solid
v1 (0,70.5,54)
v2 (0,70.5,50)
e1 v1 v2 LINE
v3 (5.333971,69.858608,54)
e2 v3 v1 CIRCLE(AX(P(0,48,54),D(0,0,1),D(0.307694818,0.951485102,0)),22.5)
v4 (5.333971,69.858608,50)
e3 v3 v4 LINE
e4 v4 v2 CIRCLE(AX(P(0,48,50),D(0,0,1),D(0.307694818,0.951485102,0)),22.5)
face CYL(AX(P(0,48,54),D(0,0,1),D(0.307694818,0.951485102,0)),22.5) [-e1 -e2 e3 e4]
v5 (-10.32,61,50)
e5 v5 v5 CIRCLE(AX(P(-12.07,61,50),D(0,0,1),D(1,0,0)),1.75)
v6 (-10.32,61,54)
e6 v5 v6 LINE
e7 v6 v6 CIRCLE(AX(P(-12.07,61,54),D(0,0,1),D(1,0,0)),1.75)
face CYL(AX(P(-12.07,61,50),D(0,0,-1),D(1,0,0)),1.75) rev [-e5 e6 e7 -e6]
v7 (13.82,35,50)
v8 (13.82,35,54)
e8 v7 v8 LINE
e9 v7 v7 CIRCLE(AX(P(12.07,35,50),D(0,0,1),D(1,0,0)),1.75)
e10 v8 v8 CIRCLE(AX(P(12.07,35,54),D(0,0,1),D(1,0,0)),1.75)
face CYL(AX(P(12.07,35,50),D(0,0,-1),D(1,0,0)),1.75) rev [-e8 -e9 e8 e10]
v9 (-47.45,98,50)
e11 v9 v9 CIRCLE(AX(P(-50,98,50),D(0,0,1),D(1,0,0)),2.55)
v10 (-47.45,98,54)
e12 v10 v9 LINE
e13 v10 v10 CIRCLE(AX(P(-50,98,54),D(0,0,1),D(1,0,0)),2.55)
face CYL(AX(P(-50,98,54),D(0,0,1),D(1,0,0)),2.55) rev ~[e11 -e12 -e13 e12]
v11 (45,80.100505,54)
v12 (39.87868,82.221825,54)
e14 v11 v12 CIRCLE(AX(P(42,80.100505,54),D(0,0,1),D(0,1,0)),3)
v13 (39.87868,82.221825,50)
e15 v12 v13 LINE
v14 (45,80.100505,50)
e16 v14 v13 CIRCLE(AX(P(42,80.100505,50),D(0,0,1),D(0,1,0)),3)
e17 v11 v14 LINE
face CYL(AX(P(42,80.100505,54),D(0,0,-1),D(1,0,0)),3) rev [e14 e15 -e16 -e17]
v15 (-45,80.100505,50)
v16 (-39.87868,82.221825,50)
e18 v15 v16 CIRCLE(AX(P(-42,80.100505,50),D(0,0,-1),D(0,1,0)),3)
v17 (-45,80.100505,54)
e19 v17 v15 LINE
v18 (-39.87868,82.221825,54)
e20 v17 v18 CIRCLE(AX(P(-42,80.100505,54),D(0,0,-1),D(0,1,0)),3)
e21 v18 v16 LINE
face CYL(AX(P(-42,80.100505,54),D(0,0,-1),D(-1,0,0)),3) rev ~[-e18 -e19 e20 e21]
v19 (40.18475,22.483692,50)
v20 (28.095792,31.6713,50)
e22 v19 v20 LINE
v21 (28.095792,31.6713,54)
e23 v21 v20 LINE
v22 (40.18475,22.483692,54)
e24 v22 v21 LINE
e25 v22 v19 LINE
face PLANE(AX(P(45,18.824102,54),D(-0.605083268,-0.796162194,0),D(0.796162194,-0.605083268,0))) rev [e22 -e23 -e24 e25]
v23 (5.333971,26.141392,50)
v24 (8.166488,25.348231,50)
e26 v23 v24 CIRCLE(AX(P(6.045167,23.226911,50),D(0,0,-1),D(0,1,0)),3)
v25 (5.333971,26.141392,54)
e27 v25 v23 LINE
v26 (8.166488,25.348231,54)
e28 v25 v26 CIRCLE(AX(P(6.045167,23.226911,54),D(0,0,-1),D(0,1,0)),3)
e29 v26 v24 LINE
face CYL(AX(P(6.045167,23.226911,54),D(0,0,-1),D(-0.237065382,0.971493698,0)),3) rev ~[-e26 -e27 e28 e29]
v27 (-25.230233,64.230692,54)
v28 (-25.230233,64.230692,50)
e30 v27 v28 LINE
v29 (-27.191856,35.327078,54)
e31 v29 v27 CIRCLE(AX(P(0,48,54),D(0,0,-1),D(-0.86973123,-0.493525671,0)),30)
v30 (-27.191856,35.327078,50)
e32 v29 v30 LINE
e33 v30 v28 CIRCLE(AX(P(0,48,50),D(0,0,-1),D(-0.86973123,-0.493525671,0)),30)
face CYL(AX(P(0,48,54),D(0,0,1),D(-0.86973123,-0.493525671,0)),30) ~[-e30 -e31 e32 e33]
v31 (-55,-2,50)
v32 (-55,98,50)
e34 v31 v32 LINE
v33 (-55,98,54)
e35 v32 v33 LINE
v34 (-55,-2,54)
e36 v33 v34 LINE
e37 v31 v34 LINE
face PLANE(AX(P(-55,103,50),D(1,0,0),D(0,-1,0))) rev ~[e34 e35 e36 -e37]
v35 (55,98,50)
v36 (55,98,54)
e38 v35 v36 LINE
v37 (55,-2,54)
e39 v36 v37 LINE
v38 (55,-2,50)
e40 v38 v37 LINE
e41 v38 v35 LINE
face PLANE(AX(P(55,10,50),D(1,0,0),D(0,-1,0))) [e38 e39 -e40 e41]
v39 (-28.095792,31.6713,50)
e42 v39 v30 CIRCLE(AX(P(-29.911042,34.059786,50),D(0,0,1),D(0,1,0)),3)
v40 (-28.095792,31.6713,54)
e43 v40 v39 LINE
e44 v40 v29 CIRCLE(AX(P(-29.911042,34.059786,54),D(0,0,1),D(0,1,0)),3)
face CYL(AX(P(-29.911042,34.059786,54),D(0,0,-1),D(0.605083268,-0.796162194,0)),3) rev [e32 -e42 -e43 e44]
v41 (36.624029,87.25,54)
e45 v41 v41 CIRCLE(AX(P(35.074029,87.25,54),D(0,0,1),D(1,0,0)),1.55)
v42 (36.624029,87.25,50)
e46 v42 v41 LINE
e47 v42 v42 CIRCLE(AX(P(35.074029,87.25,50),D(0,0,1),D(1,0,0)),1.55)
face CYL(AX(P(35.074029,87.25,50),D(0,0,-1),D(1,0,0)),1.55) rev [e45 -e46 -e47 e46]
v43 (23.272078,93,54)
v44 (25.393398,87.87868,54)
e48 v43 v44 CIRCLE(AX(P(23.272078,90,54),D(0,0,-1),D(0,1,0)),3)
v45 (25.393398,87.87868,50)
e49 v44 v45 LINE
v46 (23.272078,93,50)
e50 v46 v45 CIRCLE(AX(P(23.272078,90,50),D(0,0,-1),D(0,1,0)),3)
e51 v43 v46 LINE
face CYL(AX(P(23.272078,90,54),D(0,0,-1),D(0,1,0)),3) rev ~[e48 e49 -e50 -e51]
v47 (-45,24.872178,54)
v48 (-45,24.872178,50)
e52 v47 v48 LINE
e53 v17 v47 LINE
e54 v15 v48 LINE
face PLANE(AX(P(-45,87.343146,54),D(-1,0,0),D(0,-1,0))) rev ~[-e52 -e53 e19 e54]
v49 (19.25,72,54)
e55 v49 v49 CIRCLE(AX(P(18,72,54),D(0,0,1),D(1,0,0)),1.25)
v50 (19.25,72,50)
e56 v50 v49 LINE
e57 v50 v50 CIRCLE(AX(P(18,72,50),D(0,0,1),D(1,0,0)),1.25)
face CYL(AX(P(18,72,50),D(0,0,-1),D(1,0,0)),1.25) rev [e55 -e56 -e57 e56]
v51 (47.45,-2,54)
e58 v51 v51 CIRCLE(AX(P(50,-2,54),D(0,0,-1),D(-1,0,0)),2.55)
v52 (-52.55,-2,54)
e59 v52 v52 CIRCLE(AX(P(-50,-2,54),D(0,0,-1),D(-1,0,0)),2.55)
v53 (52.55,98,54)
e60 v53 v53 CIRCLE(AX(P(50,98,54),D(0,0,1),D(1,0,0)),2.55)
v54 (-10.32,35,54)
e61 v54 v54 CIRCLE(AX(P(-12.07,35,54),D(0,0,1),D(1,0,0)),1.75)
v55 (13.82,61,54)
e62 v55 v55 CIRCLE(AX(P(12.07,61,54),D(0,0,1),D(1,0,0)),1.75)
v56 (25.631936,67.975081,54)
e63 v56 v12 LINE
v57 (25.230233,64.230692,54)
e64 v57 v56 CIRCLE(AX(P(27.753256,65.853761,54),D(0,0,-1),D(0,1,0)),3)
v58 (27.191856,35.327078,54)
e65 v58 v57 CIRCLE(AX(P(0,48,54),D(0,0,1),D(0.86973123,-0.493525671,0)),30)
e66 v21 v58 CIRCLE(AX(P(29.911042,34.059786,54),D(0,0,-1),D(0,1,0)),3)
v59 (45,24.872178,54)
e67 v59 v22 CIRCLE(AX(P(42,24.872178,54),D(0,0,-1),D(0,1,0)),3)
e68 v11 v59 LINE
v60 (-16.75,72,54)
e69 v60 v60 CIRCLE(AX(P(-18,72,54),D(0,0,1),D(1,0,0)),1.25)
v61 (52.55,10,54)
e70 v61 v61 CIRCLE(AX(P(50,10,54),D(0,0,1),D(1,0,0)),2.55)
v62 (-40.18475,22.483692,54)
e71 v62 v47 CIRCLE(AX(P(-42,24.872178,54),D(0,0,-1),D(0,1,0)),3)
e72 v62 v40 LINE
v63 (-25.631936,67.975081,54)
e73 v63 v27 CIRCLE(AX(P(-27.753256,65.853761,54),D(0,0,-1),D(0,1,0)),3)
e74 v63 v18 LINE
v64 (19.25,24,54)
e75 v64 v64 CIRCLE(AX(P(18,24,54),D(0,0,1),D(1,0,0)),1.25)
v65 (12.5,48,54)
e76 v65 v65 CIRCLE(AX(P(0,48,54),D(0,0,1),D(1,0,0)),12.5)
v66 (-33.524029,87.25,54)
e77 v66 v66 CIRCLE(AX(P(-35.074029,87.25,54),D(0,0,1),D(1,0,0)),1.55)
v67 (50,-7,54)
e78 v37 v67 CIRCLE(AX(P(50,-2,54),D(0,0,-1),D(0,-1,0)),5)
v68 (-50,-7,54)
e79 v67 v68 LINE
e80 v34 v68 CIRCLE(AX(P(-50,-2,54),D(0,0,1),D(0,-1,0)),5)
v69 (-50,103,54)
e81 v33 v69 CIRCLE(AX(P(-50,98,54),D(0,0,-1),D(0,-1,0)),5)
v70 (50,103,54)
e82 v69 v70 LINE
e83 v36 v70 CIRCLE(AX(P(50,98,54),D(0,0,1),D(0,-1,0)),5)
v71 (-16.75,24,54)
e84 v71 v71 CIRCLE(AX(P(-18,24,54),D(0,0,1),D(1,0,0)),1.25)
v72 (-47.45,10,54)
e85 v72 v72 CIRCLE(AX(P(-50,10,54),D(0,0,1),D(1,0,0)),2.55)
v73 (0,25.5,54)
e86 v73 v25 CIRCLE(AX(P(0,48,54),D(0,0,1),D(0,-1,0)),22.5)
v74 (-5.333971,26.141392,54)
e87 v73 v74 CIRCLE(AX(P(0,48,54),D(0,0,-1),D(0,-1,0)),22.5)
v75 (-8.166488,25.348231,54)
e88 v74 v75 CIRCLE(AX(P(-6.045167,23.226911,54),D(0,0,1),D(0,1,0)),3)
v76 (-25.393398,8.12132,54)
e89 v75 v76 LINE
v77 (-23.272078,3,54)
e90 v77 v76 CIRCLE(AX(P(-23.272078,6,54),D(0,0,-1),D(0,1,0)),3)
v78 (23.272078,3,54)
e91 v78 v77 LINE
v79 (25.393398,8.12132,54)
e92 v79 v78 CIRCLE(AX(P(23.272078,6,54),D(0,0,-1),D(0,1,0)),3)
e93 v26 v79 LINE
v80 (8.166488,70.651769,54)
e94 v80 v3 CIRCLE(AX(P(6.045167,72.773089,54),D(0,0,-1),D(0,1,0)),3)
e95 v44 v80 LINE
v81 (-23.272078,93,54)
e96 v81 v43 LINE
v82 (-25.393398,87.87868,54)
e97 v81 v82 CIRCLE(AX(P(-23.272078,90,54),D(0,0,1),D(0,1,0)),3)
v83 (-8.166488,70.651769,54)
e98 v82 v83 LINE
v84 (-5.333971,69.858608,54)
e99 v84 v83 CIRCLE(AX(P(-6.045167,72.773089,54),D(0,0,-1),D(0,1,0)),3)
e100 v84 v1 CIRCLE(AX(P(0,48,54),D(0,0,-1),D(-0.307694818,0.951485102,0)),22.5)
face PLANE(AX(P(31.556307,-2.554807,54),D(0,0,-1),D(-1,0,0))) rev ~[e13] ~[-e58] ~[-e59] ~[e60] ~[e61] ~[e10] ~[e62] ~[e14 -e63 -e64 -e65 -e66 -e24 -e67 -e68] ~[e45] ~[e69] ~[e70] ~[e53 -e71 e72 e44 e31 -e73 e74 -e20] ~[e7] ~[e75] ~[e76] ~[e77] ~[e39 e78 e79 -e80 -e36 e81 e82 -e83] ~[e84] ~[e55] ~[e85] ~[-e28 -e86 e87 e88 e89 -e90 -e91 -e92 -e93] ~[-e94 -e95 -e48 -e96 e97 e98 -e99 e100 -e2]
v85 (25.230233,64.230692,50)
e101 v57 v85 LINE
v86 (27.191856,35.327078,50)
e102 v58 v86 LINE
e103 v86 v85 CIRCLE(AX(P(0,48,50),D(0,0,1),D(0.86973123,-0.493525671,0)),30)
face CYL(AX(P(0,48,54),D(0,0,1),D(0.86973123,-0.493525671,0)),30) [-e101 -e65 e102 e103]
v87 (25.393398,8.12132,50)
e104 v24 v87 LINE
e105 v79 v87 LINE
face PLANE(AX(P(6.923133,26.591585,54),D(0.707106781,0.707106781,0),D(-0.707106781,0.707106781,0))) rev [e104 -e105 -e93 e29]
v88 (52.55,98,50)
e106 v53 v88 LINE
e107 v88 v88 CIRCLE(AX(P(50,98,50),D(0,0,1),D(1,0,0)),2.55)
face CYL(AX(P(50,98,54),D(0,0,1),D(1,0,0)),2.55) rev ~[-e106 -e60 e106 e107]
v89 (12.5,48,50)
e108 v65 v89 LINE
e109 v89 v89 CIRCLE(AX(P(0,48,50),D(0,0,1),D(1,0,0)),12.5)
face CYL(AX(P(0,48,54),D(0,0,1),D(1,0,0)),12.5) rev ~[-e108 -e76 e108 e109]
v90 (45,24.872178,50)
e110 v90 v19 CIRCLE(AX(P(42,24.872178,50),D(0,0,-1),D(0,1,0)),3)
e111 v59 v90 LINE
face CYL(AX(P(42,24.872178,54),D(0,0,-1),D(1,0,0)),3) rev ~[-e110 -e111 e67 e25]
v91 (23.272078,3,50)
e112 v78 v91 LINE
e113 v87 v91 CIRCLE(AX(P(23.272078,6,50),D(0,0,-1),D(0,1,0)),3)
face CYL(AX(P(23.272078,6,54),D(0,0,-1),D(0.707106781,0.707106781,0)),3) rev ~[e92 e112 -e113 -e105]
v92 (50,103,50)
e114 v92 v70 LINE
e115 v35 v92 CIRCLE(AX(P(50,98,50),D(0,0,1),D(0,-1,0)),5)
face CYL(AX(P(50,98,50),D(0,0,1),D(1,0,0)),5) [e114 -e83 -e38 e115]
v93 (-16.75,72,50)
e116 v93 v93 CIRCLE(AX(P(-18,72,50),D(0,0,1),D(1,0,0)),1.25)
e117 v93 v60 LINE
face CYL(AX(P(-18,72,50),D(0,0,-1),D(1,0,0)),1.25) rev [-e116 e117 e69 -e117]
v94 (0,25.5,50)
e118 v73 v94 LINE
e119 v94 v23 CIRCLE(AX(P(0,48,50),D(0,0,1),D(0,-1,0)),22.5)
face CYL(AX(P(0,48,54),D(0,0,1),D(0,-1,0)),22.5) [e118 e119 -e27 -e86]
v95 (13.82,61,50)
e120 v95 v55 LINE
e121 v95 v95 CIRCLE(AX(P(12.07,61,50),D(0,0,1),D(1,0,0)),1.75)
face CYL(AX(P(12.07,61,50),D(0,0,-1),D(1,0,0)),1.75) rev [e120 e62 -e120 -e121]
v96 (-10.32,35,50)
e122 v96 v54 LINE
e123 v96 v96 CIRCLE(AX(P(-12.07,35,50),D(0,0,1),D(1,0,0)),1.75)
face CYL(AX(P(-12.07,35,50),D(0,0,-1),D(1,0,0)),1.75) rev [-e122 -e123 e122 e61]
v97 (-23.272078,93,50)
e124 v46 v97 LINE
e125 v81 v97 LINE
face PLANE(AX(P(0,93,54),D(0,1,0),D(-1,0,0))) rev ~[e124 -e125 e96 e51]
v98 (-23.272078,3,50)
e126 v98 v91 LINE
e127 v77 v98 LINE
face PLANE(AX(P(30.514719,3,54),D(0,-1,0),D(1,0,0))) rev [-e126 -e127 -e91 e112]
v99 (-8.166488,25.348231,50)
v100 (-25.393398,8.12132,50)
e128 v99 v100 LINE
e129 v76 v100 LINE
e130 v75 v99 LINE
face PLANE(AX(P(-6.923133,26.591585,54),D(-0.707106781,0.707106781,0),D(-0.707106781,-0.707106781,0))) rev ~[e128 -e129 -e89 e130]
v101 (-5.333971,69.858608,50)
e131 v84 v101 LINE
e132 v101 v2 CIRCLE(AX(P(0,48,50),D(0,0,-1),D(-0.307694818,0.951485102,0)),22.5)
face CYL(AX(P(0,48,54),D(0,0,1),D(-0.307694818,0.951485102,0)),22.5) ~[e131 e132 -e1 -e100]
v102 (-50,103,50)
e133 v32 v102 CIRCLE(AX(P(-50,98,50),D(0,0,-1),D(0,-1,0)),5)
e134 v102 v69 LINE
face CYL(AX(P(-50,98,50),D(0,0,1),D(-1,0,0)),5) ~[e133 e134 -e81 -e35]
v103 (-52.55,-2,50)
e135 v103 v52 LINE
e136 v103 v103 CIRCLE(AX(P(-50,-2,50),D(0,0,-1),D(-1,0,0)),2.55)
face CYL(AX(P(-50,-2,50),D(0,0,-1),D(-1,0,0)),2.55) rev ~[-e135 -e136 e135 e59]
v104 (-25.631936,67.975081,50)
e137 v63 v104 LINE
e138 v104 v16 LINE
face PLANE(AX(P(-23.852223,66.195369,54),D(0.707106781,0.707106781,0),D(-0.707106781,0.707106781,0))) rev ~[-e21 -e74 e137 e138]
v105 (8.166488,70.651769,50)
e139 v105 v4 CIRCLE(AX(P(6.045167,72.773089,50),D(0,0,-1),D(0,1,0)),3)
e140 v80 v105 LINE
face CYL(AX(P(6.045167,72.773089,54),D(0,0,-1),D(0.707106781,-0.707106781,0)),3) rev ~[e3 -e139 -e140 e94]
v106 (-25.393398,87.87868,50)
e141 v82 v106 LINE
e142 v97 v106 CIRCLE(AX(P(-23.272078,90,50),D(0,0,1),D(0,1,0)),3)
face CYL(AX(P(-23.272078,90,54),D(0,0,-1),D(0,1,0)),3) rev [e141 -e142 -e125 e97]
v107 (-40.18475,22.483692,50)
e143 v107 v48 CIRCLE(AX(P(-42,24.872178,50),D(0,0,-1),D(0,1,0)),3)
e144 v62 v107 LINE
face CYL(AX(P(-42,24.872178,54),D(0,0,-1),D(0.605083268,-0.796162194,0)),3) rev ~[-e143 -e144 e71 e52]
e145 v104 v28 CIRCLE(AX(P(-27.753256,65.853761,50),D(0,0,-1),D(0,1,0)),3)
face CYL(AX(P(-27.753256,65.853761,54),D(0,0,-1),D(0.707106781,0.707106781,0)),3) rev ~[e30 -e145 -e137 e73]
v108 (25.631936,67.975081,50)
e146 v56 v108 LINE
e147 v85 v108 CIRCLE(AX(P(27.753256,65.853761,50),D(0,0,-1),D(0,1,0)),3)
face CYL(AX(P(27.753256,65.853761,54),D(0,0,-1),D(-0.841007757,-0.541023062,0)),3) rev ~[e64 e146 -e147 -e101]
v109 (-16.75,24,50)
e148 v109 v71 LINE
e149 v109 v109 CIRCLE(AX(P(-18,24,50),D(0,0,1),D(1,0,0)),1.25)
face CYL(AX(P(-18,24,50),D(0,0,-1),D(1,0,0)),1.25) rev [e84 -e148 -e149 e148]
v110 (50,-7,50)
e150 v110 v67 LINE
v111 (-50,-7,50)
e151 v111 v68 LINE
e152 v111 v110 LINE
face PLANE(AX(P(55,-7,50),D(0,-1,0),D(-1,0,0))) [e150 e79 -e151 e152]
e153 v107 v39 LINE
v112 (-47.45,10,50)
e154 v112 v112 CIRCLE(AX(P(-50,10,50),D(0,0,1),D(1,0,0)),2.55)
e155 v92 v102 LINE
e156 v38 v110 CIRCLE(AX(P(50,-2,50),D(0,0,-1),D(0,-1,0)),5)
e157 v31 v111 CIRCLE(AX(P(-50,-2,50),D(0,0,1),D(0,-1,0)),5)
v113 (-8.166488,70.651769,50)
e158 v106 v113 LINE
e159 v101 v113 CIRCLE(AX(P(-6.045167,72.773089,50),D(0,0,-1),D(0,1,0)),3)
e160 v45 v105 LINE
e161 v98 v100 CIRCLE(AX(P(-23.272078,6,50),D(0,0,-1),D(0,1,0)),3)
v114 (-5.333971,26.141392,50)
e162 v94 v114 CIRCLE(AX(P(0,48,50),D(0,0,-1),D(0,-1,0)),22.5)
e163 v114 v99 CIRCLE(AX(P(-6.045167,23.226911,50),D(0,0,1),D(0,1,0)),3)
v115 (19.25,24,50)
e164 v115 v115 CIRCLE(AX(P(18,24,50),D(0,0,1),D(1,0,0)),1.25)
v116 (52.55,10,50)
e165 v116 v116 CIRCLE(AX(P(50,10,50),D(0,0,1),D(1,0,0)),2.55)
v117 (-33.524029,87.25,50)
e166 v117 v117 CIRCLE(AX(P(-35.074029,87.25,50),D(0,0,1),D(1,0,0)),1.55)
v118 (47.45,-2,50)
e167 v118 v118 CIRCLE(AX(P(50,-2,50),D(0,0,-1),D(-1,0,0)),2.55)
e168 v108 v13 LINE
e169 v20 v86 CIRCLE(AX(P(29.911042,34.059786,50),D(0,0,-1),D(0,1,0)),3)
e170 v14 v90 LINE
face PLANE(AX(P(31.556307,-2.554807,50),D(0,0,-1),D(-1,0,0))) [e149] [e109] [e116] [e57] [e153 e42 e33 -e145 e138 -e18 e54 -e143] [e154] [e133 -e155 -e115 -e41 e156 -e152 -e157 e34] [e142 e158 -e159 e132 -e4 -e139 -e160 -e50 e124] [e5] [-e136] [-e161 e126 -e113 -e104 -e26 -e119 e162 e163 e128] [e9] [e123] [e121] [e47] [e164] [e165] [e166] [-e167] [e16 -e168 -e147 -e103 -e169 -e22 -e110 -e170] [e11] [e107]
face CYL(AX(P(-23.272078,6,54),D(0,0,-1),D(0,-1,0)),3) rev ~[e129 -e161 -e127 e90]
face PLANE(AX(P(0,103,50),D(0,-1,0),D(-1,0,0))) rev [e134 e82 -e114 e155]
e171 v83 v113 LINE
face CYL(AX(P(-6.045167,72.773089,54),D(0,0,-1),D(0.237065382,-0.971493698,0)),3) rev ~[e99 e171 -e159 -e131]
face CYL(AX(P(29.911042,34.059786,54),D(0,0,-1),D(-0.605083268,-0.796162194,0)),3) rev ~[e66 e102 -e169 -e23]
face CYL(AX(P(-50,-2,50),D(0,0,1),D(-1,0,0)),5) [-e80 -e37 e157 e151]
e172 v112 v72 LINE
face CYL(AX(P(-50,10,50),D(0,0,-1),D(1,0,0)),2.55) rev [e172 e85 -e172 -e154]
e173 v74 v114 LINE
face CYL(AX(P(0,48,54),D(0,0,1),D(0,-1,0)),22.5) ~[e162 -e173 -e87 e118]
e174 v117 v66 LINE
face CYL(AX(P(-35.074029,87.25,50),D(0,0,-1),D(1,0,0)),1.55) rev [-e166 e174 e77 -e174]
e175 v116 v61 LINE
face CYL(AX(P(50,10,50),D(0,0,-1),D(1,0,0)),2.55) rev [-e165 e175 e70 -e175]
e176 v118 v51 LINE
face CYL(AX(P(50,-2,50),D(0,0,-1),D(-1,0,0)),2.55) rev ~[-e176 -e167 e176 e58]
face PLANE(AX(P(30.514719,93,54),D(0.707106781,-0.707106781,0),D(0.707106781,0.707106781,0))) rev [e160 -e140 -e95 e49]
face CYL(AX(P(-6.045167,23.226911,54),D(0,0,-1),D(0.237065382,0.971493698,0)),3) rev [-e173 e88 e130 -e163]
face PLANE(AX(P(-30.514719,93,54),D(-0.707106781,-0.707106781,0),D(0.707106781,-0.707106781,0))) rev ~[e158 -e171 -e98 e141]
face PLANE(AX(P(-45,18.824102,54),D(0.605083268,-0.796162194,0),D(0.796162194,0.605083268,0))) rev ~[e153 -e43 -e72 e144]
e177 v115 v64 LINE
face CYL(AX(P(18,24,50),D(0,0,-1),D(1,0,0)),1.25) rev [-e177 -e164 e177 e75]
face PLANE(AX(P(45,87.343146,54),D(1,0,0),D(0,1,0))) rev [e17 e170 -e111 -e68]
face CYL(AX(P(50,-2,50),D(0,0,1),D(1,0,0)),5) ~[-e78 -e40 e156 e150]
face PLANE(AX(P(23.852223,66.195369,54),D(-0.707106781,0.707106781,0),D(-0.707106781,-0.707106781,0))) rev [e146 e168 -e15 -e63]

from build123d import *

# Parameters (mm, degrees)
SKETCH_2_R          = 1.55
SKETCH_2_R_2        = 1.25
SKETCH_2_R_3        = 1.75
SKETCH_2_R_4        = 2.55
EXTRUDE_1_DEPTH     = 4
FILLET_1_R          = 20
SKETCH_4_R          = 12.5
CUT_EXTRUDE_3_DEPTH = 4
EXTRUDE_START       = -4
EXTRUDE_2_DEPTH     = 4
FILLET_5_R          = 5
SKETCH_10_R         = 2.55
CUT_EXTRUDE_6_DEPTH = 10
EXTRUDE_3_DEPTH     = 4
FILLET_6_R          = 5
SKETCH_12_R         = 2.55
CUT_EXTRUDE_7_DEPTH = 4
CUT_EXTRUDE_8_DEPTH = 4
FILLET_7_R          = 3


with BuildPart() as part:
    # 草图2 → 凸台-拉伸1 (new body)
    with BuildSketch(Plane.XY.offset(50)):
        with BuildLine():
            Line((-25.35656347, 96.806195191), (-36.91814256, 90.799541468))
            ThreePointArc((-36.91814256, 90.799541468), (-37.739334229, 90.232640986), (-38.394655297, 89.480121078))
            Line((-38.394655297, 89.480121078), (-45.6586136, 78.66416482))
            ThreePointArc((-45.6586136, 78.66416482), (-52.612848944, 64.027729908), (-55, 48))
            Line((-55, 48), (-55, 10))
            ThreePointArc((-55, 10), (-53.535533906, 6.464466094), (-50, 5))
            Line((-50, 5), (-34.292856399, 5))
            ThreePointArc((-34.292856399, 5), (0, -7), (34.292856399, 5))
            Line((34.292856399, 5), (50, 5))
            ThreePointArc((50, 5), (53.535533906, 6.464466094), (55, 10))
            Line((55, 10), (55, 48))
            ThreePointArc((55, 48), (52.612848944, 64.027729908), (45.6586136, 78.66416482))
            Line((45.6586136, 78.66416482), (38.394655297, 89.480121078))
            ThreePointArc((38.394655297, 89.480121078), (37.739334229, 90.232640986), (36.91814256, 90.799541468))
            Line((36.91814256, 90.799541468), (25.35656347, 96.806195191))
            ThreePointArc((25.35656347, 96.806195191), (0, 103), (-25.35656347, 96.806195191))
        make_face()
        with Locations((-35.074028853, 87.25)):
            Circle(SKETCH_2_R, mode=Mode.SUBTRACT)
        with Locations((-18, 72)):
            Circle(SKETCH_2_R_2, mode=Mode.SUBTRACT)
        with Locations((-12.07, 61)):
            Circle(SKETCH_2_R_3, mode=Mode.SUBTRACT)
        with Locations((-12.07, 35)):
            Circle(SKETCH_2_R_3, mode=Mode.SUBTRACT)
        with Locations((-18, 24)):
            Circle(SKETCH_2_R_2, mode=Mode.SUBTRACT)
        with Locations((18, 72)):
            Circle(SKETCH_2_R_2, mode=Mode.SUBTRACT)
        with Locations((12.07, 61)):
            Circle(SKETCH_2_R_3, mode=Mode.SUBTRACT)
        with Locations((12.07, 35)):
            Circle(SKETCH_2_R_3, mode=Mode.SUBTRACT)
        with Locations((35.074028853, 87.25)):
            Circle(SKETCH_2_R, mode=Mode.SUBTRACT)
        with Locations((18, 24)):
            Circle(SKETCH_2_R_2, mode=Mode.SUBTRACT)
        with Locations((-50, 10)):
            Circle(SKETCH_2_R_4, mode=Mode.SUBTRACT)
        with Locations((50, 10)):
            Circle(SKETCH_2_R_4, mode=Mode.SUBTRACT)
    extrude(amount=EXTRUDE_1_DEPTH)

    # 圆角1
    fillet_1_edges = [part.edges().sort_by_distance(p)[0] for p in [
        (-34.292856399, 5, 52),
        (34.292856399, 5, 52),
    ]]
    fillet(fillet_1_edges, radius=FILLET_1_R)

    # 草图4 → 切除-拉伸3 (cut)
    with BuildSketch(Plane.XY.offset(54)):
        with Locations((0, 48)):
            Circle(SKETCH_4_R)
    extrude(amount=-CUT_EXTRUDE_3_DEPTH, mode=Mode.SUBTRACT)

    # 草图8 → 凸台-拉伸2 (add)
    with BuildSketch(Plane.XY.offset(54).offset(EXTRUDE_START)):
        with BuildLine():
            Line((-55, 103), (-55, 48))
            ThreePointArc((-55, 48), (-52.612848944, 64.027729908), (-45.6586136, 78.66416482))
            Line((-45.6586136, 78.66416482), (-38.394655297, 89.480121078))
            ThreePointArc((-38.394655297, 89.480121078), (-37.739334229, 90.232640986), (-36.91814256, 90.799541468))
            Line((-36.91814256, 90.799541468), (-25.35656347, 96.806195191))
            ThreePointArc((-25.35656347, 96.806195191), (-13.051039509, 101.429115356), (0, 103))
            Line((0, 103), (-55, 103))
        make_face()
    extrude_2 = extrude(amount=EXTRUDE_2_DEPTH)

    # 镜向4: 凸台-拉伸2 across plane
    add(extrude_2.mirror(Plane(origin=(0, 0, 0), x_dir=(0, 0, 1), z_dir=(1, 0, 0))))

    # 圆角5
    fillet_5_edges = [part.edges().sort_by_distance(p)[0] for p in [
        (-55, 103, 52),
        (55, 103, 52),
    ]]
    fillet(fillet_5_edges, radius=FILLET_5_R)

    # 草图10 → 切除-拉伸6 (cut)
    with BuildSketch(Plane.XY.offset(54)):
        with Locations((-50, 98)):
            Circle(SKETCH_10_R)
        with Locations((50, 98)):
            Circle(SKETCH_10_R)
    extrude(amount=-CUT_EXTRUDE_6_DEPTH, mode=Mode.SUBTRACT)

    # 草图11 → 凸台-拉伸3 (add)
    with BuildSketch(Plane(origin=(0, 0, 50), x_dir=(-1, 0, 0), z_dir=(0, 0, -1))):
        with BuildLine():
            ThreePointArc((-50, 5), (-53.535533906, 6.464466094), (-55, 10))
            Line((-55, 10), (-55, -7))
            Line((-55, -7), (0, -7))
            ThreePointArc((0, -7), (-15.556349186, -4.754146756), (-29.842251926, 1.8))
            ThreePointArc((-29.842251926, 1.8), (-35.037125649, 4.183326093), (-40.693979899, 5))
            Line((-40.693979899, 5), (-50, 5))
        make_face()
        with BuildLine():
            ThreePointArc((29.842251926, 1.8), (15.556349186, -4.754146756), (0, -7))
            Line((0, -7), (55, -7))
            Line((55, -7), (55, 10))
            ThreePointArc((55, 10), (53.535533906, 6.464466094), (50, 5))
            Line((50, 5), (40.693979899, 5))
            ThreePointArc((40.693979899, 5), (35.037125649, 4.183326093), (29.842251926, 1.8))
        make_face()
    extrude(amount=-EXTRUDE_3_DEPTH)

    # 圆角6
    fillet_6_edges = [part.edges().sort_by_distance(p)[0] for p in [
        (55, -7, 52),
        (-55, -7, 52),
    ]]
    fillet(fillet_6_edges, radius=FILLET_6_R)

    # 草图12 → 切除-拉伸7 (cut)
    with BuildSketch(Plane(origin=(0, 0, 50), x_dir=(-1, 0, 0), z_dir=(0, 0, -1))):
        with Locations((-50, -2)):
            Circle(SKETCH_12_R)
        with Locations((50, -2)):
            Circle(SKETCH_12_R)
    extrude(amount=-CUT_EXTRUDE_7_DEPTH, mode=Mode.SUBTRACT)

    # 草图13 → 切除-拉伸8 (cut)
    with BuildSketch(Plane.XY.offset(54)):
        with BuildLine():
            Line((-23.852223166, 66.195368917), (-45, 87.343145751))
            Line((-45, 87.343145751), (-45, 18.82410191))
            Line((-45, 18.82410191), (-26.091936894, 33.19422987))
            ThreePointArc((-26.091936894, 33.19422987), (-29.931147249, 50.031360229), (-23.852223166, 66.195368917))
        make_face()
        with BuildLine():
            Line((0, 70.5), (0, 93))
            Line((0, 93), (-30.514718626, 93))
            Line((-30.514718626, 93), (-6.923133414, 69.408414788))
            ThreePointArc((-6.923133414, 69.408414788), (-3.504330697, 70.225428373), (0, 70.5))
        make_face()
        with BuildLine():
            Line((0, 3), (0, 25.5))
            ThreePointArc((0, 25.5), (-3.504330697, 25.774571627), (-6.923133414, 26.591585212))
            Line((-6.923133414, 26.591585212), (-30.514718626, 3))
            Line((-30.514718626, 3), (0, 3))
        make_face()
    cut_extrude_8 = extrude(amount=-CUT_EXTRUDE_8_DEPTH, mode=Mode.SUBTRACT)

    # 镜向5: 切除-拉伸8 across plane
    add(cut_extrude_8.mirror(Plane(origin=(0, 0, 0), x_dir=(0, 0, 1), z_dir=(1, 0, 0))), mode=Mode.SUBTRACT)

    # 圆角7
    fillet_7_edges = [part.edges().sort_by_distance(p)[0] for p in [
        (-30.514718626, 3, 52),
        (-6.923133414, 26.591585212, 52),
        (-6.923133414, 69.408414788, 52),
        (-30.514718626, 93, 52),
        (-23.852223166, 66.195368917, 52),
        (-26.091936894, 33.19422987, 52),
        (-45, 18.82410191, 52),
        (-45, 87.343145751, 52),
        (6.923133414, 26.591585212, 52),
        (30.514718626, 3, 52),
        (30.514718626, 93, 52),
        (6.923133414, 69.408414788, 52),
        (26.091936894, 33.19422987, 52),
        (23.852223166, 66.195368917, 52),
        (45, 87.343145751, 52),
        (45, 18.82410191, 52),
    ]]
    fillet(fillet_7_edges, radius=FILLET_7_R)


solid = part.part
